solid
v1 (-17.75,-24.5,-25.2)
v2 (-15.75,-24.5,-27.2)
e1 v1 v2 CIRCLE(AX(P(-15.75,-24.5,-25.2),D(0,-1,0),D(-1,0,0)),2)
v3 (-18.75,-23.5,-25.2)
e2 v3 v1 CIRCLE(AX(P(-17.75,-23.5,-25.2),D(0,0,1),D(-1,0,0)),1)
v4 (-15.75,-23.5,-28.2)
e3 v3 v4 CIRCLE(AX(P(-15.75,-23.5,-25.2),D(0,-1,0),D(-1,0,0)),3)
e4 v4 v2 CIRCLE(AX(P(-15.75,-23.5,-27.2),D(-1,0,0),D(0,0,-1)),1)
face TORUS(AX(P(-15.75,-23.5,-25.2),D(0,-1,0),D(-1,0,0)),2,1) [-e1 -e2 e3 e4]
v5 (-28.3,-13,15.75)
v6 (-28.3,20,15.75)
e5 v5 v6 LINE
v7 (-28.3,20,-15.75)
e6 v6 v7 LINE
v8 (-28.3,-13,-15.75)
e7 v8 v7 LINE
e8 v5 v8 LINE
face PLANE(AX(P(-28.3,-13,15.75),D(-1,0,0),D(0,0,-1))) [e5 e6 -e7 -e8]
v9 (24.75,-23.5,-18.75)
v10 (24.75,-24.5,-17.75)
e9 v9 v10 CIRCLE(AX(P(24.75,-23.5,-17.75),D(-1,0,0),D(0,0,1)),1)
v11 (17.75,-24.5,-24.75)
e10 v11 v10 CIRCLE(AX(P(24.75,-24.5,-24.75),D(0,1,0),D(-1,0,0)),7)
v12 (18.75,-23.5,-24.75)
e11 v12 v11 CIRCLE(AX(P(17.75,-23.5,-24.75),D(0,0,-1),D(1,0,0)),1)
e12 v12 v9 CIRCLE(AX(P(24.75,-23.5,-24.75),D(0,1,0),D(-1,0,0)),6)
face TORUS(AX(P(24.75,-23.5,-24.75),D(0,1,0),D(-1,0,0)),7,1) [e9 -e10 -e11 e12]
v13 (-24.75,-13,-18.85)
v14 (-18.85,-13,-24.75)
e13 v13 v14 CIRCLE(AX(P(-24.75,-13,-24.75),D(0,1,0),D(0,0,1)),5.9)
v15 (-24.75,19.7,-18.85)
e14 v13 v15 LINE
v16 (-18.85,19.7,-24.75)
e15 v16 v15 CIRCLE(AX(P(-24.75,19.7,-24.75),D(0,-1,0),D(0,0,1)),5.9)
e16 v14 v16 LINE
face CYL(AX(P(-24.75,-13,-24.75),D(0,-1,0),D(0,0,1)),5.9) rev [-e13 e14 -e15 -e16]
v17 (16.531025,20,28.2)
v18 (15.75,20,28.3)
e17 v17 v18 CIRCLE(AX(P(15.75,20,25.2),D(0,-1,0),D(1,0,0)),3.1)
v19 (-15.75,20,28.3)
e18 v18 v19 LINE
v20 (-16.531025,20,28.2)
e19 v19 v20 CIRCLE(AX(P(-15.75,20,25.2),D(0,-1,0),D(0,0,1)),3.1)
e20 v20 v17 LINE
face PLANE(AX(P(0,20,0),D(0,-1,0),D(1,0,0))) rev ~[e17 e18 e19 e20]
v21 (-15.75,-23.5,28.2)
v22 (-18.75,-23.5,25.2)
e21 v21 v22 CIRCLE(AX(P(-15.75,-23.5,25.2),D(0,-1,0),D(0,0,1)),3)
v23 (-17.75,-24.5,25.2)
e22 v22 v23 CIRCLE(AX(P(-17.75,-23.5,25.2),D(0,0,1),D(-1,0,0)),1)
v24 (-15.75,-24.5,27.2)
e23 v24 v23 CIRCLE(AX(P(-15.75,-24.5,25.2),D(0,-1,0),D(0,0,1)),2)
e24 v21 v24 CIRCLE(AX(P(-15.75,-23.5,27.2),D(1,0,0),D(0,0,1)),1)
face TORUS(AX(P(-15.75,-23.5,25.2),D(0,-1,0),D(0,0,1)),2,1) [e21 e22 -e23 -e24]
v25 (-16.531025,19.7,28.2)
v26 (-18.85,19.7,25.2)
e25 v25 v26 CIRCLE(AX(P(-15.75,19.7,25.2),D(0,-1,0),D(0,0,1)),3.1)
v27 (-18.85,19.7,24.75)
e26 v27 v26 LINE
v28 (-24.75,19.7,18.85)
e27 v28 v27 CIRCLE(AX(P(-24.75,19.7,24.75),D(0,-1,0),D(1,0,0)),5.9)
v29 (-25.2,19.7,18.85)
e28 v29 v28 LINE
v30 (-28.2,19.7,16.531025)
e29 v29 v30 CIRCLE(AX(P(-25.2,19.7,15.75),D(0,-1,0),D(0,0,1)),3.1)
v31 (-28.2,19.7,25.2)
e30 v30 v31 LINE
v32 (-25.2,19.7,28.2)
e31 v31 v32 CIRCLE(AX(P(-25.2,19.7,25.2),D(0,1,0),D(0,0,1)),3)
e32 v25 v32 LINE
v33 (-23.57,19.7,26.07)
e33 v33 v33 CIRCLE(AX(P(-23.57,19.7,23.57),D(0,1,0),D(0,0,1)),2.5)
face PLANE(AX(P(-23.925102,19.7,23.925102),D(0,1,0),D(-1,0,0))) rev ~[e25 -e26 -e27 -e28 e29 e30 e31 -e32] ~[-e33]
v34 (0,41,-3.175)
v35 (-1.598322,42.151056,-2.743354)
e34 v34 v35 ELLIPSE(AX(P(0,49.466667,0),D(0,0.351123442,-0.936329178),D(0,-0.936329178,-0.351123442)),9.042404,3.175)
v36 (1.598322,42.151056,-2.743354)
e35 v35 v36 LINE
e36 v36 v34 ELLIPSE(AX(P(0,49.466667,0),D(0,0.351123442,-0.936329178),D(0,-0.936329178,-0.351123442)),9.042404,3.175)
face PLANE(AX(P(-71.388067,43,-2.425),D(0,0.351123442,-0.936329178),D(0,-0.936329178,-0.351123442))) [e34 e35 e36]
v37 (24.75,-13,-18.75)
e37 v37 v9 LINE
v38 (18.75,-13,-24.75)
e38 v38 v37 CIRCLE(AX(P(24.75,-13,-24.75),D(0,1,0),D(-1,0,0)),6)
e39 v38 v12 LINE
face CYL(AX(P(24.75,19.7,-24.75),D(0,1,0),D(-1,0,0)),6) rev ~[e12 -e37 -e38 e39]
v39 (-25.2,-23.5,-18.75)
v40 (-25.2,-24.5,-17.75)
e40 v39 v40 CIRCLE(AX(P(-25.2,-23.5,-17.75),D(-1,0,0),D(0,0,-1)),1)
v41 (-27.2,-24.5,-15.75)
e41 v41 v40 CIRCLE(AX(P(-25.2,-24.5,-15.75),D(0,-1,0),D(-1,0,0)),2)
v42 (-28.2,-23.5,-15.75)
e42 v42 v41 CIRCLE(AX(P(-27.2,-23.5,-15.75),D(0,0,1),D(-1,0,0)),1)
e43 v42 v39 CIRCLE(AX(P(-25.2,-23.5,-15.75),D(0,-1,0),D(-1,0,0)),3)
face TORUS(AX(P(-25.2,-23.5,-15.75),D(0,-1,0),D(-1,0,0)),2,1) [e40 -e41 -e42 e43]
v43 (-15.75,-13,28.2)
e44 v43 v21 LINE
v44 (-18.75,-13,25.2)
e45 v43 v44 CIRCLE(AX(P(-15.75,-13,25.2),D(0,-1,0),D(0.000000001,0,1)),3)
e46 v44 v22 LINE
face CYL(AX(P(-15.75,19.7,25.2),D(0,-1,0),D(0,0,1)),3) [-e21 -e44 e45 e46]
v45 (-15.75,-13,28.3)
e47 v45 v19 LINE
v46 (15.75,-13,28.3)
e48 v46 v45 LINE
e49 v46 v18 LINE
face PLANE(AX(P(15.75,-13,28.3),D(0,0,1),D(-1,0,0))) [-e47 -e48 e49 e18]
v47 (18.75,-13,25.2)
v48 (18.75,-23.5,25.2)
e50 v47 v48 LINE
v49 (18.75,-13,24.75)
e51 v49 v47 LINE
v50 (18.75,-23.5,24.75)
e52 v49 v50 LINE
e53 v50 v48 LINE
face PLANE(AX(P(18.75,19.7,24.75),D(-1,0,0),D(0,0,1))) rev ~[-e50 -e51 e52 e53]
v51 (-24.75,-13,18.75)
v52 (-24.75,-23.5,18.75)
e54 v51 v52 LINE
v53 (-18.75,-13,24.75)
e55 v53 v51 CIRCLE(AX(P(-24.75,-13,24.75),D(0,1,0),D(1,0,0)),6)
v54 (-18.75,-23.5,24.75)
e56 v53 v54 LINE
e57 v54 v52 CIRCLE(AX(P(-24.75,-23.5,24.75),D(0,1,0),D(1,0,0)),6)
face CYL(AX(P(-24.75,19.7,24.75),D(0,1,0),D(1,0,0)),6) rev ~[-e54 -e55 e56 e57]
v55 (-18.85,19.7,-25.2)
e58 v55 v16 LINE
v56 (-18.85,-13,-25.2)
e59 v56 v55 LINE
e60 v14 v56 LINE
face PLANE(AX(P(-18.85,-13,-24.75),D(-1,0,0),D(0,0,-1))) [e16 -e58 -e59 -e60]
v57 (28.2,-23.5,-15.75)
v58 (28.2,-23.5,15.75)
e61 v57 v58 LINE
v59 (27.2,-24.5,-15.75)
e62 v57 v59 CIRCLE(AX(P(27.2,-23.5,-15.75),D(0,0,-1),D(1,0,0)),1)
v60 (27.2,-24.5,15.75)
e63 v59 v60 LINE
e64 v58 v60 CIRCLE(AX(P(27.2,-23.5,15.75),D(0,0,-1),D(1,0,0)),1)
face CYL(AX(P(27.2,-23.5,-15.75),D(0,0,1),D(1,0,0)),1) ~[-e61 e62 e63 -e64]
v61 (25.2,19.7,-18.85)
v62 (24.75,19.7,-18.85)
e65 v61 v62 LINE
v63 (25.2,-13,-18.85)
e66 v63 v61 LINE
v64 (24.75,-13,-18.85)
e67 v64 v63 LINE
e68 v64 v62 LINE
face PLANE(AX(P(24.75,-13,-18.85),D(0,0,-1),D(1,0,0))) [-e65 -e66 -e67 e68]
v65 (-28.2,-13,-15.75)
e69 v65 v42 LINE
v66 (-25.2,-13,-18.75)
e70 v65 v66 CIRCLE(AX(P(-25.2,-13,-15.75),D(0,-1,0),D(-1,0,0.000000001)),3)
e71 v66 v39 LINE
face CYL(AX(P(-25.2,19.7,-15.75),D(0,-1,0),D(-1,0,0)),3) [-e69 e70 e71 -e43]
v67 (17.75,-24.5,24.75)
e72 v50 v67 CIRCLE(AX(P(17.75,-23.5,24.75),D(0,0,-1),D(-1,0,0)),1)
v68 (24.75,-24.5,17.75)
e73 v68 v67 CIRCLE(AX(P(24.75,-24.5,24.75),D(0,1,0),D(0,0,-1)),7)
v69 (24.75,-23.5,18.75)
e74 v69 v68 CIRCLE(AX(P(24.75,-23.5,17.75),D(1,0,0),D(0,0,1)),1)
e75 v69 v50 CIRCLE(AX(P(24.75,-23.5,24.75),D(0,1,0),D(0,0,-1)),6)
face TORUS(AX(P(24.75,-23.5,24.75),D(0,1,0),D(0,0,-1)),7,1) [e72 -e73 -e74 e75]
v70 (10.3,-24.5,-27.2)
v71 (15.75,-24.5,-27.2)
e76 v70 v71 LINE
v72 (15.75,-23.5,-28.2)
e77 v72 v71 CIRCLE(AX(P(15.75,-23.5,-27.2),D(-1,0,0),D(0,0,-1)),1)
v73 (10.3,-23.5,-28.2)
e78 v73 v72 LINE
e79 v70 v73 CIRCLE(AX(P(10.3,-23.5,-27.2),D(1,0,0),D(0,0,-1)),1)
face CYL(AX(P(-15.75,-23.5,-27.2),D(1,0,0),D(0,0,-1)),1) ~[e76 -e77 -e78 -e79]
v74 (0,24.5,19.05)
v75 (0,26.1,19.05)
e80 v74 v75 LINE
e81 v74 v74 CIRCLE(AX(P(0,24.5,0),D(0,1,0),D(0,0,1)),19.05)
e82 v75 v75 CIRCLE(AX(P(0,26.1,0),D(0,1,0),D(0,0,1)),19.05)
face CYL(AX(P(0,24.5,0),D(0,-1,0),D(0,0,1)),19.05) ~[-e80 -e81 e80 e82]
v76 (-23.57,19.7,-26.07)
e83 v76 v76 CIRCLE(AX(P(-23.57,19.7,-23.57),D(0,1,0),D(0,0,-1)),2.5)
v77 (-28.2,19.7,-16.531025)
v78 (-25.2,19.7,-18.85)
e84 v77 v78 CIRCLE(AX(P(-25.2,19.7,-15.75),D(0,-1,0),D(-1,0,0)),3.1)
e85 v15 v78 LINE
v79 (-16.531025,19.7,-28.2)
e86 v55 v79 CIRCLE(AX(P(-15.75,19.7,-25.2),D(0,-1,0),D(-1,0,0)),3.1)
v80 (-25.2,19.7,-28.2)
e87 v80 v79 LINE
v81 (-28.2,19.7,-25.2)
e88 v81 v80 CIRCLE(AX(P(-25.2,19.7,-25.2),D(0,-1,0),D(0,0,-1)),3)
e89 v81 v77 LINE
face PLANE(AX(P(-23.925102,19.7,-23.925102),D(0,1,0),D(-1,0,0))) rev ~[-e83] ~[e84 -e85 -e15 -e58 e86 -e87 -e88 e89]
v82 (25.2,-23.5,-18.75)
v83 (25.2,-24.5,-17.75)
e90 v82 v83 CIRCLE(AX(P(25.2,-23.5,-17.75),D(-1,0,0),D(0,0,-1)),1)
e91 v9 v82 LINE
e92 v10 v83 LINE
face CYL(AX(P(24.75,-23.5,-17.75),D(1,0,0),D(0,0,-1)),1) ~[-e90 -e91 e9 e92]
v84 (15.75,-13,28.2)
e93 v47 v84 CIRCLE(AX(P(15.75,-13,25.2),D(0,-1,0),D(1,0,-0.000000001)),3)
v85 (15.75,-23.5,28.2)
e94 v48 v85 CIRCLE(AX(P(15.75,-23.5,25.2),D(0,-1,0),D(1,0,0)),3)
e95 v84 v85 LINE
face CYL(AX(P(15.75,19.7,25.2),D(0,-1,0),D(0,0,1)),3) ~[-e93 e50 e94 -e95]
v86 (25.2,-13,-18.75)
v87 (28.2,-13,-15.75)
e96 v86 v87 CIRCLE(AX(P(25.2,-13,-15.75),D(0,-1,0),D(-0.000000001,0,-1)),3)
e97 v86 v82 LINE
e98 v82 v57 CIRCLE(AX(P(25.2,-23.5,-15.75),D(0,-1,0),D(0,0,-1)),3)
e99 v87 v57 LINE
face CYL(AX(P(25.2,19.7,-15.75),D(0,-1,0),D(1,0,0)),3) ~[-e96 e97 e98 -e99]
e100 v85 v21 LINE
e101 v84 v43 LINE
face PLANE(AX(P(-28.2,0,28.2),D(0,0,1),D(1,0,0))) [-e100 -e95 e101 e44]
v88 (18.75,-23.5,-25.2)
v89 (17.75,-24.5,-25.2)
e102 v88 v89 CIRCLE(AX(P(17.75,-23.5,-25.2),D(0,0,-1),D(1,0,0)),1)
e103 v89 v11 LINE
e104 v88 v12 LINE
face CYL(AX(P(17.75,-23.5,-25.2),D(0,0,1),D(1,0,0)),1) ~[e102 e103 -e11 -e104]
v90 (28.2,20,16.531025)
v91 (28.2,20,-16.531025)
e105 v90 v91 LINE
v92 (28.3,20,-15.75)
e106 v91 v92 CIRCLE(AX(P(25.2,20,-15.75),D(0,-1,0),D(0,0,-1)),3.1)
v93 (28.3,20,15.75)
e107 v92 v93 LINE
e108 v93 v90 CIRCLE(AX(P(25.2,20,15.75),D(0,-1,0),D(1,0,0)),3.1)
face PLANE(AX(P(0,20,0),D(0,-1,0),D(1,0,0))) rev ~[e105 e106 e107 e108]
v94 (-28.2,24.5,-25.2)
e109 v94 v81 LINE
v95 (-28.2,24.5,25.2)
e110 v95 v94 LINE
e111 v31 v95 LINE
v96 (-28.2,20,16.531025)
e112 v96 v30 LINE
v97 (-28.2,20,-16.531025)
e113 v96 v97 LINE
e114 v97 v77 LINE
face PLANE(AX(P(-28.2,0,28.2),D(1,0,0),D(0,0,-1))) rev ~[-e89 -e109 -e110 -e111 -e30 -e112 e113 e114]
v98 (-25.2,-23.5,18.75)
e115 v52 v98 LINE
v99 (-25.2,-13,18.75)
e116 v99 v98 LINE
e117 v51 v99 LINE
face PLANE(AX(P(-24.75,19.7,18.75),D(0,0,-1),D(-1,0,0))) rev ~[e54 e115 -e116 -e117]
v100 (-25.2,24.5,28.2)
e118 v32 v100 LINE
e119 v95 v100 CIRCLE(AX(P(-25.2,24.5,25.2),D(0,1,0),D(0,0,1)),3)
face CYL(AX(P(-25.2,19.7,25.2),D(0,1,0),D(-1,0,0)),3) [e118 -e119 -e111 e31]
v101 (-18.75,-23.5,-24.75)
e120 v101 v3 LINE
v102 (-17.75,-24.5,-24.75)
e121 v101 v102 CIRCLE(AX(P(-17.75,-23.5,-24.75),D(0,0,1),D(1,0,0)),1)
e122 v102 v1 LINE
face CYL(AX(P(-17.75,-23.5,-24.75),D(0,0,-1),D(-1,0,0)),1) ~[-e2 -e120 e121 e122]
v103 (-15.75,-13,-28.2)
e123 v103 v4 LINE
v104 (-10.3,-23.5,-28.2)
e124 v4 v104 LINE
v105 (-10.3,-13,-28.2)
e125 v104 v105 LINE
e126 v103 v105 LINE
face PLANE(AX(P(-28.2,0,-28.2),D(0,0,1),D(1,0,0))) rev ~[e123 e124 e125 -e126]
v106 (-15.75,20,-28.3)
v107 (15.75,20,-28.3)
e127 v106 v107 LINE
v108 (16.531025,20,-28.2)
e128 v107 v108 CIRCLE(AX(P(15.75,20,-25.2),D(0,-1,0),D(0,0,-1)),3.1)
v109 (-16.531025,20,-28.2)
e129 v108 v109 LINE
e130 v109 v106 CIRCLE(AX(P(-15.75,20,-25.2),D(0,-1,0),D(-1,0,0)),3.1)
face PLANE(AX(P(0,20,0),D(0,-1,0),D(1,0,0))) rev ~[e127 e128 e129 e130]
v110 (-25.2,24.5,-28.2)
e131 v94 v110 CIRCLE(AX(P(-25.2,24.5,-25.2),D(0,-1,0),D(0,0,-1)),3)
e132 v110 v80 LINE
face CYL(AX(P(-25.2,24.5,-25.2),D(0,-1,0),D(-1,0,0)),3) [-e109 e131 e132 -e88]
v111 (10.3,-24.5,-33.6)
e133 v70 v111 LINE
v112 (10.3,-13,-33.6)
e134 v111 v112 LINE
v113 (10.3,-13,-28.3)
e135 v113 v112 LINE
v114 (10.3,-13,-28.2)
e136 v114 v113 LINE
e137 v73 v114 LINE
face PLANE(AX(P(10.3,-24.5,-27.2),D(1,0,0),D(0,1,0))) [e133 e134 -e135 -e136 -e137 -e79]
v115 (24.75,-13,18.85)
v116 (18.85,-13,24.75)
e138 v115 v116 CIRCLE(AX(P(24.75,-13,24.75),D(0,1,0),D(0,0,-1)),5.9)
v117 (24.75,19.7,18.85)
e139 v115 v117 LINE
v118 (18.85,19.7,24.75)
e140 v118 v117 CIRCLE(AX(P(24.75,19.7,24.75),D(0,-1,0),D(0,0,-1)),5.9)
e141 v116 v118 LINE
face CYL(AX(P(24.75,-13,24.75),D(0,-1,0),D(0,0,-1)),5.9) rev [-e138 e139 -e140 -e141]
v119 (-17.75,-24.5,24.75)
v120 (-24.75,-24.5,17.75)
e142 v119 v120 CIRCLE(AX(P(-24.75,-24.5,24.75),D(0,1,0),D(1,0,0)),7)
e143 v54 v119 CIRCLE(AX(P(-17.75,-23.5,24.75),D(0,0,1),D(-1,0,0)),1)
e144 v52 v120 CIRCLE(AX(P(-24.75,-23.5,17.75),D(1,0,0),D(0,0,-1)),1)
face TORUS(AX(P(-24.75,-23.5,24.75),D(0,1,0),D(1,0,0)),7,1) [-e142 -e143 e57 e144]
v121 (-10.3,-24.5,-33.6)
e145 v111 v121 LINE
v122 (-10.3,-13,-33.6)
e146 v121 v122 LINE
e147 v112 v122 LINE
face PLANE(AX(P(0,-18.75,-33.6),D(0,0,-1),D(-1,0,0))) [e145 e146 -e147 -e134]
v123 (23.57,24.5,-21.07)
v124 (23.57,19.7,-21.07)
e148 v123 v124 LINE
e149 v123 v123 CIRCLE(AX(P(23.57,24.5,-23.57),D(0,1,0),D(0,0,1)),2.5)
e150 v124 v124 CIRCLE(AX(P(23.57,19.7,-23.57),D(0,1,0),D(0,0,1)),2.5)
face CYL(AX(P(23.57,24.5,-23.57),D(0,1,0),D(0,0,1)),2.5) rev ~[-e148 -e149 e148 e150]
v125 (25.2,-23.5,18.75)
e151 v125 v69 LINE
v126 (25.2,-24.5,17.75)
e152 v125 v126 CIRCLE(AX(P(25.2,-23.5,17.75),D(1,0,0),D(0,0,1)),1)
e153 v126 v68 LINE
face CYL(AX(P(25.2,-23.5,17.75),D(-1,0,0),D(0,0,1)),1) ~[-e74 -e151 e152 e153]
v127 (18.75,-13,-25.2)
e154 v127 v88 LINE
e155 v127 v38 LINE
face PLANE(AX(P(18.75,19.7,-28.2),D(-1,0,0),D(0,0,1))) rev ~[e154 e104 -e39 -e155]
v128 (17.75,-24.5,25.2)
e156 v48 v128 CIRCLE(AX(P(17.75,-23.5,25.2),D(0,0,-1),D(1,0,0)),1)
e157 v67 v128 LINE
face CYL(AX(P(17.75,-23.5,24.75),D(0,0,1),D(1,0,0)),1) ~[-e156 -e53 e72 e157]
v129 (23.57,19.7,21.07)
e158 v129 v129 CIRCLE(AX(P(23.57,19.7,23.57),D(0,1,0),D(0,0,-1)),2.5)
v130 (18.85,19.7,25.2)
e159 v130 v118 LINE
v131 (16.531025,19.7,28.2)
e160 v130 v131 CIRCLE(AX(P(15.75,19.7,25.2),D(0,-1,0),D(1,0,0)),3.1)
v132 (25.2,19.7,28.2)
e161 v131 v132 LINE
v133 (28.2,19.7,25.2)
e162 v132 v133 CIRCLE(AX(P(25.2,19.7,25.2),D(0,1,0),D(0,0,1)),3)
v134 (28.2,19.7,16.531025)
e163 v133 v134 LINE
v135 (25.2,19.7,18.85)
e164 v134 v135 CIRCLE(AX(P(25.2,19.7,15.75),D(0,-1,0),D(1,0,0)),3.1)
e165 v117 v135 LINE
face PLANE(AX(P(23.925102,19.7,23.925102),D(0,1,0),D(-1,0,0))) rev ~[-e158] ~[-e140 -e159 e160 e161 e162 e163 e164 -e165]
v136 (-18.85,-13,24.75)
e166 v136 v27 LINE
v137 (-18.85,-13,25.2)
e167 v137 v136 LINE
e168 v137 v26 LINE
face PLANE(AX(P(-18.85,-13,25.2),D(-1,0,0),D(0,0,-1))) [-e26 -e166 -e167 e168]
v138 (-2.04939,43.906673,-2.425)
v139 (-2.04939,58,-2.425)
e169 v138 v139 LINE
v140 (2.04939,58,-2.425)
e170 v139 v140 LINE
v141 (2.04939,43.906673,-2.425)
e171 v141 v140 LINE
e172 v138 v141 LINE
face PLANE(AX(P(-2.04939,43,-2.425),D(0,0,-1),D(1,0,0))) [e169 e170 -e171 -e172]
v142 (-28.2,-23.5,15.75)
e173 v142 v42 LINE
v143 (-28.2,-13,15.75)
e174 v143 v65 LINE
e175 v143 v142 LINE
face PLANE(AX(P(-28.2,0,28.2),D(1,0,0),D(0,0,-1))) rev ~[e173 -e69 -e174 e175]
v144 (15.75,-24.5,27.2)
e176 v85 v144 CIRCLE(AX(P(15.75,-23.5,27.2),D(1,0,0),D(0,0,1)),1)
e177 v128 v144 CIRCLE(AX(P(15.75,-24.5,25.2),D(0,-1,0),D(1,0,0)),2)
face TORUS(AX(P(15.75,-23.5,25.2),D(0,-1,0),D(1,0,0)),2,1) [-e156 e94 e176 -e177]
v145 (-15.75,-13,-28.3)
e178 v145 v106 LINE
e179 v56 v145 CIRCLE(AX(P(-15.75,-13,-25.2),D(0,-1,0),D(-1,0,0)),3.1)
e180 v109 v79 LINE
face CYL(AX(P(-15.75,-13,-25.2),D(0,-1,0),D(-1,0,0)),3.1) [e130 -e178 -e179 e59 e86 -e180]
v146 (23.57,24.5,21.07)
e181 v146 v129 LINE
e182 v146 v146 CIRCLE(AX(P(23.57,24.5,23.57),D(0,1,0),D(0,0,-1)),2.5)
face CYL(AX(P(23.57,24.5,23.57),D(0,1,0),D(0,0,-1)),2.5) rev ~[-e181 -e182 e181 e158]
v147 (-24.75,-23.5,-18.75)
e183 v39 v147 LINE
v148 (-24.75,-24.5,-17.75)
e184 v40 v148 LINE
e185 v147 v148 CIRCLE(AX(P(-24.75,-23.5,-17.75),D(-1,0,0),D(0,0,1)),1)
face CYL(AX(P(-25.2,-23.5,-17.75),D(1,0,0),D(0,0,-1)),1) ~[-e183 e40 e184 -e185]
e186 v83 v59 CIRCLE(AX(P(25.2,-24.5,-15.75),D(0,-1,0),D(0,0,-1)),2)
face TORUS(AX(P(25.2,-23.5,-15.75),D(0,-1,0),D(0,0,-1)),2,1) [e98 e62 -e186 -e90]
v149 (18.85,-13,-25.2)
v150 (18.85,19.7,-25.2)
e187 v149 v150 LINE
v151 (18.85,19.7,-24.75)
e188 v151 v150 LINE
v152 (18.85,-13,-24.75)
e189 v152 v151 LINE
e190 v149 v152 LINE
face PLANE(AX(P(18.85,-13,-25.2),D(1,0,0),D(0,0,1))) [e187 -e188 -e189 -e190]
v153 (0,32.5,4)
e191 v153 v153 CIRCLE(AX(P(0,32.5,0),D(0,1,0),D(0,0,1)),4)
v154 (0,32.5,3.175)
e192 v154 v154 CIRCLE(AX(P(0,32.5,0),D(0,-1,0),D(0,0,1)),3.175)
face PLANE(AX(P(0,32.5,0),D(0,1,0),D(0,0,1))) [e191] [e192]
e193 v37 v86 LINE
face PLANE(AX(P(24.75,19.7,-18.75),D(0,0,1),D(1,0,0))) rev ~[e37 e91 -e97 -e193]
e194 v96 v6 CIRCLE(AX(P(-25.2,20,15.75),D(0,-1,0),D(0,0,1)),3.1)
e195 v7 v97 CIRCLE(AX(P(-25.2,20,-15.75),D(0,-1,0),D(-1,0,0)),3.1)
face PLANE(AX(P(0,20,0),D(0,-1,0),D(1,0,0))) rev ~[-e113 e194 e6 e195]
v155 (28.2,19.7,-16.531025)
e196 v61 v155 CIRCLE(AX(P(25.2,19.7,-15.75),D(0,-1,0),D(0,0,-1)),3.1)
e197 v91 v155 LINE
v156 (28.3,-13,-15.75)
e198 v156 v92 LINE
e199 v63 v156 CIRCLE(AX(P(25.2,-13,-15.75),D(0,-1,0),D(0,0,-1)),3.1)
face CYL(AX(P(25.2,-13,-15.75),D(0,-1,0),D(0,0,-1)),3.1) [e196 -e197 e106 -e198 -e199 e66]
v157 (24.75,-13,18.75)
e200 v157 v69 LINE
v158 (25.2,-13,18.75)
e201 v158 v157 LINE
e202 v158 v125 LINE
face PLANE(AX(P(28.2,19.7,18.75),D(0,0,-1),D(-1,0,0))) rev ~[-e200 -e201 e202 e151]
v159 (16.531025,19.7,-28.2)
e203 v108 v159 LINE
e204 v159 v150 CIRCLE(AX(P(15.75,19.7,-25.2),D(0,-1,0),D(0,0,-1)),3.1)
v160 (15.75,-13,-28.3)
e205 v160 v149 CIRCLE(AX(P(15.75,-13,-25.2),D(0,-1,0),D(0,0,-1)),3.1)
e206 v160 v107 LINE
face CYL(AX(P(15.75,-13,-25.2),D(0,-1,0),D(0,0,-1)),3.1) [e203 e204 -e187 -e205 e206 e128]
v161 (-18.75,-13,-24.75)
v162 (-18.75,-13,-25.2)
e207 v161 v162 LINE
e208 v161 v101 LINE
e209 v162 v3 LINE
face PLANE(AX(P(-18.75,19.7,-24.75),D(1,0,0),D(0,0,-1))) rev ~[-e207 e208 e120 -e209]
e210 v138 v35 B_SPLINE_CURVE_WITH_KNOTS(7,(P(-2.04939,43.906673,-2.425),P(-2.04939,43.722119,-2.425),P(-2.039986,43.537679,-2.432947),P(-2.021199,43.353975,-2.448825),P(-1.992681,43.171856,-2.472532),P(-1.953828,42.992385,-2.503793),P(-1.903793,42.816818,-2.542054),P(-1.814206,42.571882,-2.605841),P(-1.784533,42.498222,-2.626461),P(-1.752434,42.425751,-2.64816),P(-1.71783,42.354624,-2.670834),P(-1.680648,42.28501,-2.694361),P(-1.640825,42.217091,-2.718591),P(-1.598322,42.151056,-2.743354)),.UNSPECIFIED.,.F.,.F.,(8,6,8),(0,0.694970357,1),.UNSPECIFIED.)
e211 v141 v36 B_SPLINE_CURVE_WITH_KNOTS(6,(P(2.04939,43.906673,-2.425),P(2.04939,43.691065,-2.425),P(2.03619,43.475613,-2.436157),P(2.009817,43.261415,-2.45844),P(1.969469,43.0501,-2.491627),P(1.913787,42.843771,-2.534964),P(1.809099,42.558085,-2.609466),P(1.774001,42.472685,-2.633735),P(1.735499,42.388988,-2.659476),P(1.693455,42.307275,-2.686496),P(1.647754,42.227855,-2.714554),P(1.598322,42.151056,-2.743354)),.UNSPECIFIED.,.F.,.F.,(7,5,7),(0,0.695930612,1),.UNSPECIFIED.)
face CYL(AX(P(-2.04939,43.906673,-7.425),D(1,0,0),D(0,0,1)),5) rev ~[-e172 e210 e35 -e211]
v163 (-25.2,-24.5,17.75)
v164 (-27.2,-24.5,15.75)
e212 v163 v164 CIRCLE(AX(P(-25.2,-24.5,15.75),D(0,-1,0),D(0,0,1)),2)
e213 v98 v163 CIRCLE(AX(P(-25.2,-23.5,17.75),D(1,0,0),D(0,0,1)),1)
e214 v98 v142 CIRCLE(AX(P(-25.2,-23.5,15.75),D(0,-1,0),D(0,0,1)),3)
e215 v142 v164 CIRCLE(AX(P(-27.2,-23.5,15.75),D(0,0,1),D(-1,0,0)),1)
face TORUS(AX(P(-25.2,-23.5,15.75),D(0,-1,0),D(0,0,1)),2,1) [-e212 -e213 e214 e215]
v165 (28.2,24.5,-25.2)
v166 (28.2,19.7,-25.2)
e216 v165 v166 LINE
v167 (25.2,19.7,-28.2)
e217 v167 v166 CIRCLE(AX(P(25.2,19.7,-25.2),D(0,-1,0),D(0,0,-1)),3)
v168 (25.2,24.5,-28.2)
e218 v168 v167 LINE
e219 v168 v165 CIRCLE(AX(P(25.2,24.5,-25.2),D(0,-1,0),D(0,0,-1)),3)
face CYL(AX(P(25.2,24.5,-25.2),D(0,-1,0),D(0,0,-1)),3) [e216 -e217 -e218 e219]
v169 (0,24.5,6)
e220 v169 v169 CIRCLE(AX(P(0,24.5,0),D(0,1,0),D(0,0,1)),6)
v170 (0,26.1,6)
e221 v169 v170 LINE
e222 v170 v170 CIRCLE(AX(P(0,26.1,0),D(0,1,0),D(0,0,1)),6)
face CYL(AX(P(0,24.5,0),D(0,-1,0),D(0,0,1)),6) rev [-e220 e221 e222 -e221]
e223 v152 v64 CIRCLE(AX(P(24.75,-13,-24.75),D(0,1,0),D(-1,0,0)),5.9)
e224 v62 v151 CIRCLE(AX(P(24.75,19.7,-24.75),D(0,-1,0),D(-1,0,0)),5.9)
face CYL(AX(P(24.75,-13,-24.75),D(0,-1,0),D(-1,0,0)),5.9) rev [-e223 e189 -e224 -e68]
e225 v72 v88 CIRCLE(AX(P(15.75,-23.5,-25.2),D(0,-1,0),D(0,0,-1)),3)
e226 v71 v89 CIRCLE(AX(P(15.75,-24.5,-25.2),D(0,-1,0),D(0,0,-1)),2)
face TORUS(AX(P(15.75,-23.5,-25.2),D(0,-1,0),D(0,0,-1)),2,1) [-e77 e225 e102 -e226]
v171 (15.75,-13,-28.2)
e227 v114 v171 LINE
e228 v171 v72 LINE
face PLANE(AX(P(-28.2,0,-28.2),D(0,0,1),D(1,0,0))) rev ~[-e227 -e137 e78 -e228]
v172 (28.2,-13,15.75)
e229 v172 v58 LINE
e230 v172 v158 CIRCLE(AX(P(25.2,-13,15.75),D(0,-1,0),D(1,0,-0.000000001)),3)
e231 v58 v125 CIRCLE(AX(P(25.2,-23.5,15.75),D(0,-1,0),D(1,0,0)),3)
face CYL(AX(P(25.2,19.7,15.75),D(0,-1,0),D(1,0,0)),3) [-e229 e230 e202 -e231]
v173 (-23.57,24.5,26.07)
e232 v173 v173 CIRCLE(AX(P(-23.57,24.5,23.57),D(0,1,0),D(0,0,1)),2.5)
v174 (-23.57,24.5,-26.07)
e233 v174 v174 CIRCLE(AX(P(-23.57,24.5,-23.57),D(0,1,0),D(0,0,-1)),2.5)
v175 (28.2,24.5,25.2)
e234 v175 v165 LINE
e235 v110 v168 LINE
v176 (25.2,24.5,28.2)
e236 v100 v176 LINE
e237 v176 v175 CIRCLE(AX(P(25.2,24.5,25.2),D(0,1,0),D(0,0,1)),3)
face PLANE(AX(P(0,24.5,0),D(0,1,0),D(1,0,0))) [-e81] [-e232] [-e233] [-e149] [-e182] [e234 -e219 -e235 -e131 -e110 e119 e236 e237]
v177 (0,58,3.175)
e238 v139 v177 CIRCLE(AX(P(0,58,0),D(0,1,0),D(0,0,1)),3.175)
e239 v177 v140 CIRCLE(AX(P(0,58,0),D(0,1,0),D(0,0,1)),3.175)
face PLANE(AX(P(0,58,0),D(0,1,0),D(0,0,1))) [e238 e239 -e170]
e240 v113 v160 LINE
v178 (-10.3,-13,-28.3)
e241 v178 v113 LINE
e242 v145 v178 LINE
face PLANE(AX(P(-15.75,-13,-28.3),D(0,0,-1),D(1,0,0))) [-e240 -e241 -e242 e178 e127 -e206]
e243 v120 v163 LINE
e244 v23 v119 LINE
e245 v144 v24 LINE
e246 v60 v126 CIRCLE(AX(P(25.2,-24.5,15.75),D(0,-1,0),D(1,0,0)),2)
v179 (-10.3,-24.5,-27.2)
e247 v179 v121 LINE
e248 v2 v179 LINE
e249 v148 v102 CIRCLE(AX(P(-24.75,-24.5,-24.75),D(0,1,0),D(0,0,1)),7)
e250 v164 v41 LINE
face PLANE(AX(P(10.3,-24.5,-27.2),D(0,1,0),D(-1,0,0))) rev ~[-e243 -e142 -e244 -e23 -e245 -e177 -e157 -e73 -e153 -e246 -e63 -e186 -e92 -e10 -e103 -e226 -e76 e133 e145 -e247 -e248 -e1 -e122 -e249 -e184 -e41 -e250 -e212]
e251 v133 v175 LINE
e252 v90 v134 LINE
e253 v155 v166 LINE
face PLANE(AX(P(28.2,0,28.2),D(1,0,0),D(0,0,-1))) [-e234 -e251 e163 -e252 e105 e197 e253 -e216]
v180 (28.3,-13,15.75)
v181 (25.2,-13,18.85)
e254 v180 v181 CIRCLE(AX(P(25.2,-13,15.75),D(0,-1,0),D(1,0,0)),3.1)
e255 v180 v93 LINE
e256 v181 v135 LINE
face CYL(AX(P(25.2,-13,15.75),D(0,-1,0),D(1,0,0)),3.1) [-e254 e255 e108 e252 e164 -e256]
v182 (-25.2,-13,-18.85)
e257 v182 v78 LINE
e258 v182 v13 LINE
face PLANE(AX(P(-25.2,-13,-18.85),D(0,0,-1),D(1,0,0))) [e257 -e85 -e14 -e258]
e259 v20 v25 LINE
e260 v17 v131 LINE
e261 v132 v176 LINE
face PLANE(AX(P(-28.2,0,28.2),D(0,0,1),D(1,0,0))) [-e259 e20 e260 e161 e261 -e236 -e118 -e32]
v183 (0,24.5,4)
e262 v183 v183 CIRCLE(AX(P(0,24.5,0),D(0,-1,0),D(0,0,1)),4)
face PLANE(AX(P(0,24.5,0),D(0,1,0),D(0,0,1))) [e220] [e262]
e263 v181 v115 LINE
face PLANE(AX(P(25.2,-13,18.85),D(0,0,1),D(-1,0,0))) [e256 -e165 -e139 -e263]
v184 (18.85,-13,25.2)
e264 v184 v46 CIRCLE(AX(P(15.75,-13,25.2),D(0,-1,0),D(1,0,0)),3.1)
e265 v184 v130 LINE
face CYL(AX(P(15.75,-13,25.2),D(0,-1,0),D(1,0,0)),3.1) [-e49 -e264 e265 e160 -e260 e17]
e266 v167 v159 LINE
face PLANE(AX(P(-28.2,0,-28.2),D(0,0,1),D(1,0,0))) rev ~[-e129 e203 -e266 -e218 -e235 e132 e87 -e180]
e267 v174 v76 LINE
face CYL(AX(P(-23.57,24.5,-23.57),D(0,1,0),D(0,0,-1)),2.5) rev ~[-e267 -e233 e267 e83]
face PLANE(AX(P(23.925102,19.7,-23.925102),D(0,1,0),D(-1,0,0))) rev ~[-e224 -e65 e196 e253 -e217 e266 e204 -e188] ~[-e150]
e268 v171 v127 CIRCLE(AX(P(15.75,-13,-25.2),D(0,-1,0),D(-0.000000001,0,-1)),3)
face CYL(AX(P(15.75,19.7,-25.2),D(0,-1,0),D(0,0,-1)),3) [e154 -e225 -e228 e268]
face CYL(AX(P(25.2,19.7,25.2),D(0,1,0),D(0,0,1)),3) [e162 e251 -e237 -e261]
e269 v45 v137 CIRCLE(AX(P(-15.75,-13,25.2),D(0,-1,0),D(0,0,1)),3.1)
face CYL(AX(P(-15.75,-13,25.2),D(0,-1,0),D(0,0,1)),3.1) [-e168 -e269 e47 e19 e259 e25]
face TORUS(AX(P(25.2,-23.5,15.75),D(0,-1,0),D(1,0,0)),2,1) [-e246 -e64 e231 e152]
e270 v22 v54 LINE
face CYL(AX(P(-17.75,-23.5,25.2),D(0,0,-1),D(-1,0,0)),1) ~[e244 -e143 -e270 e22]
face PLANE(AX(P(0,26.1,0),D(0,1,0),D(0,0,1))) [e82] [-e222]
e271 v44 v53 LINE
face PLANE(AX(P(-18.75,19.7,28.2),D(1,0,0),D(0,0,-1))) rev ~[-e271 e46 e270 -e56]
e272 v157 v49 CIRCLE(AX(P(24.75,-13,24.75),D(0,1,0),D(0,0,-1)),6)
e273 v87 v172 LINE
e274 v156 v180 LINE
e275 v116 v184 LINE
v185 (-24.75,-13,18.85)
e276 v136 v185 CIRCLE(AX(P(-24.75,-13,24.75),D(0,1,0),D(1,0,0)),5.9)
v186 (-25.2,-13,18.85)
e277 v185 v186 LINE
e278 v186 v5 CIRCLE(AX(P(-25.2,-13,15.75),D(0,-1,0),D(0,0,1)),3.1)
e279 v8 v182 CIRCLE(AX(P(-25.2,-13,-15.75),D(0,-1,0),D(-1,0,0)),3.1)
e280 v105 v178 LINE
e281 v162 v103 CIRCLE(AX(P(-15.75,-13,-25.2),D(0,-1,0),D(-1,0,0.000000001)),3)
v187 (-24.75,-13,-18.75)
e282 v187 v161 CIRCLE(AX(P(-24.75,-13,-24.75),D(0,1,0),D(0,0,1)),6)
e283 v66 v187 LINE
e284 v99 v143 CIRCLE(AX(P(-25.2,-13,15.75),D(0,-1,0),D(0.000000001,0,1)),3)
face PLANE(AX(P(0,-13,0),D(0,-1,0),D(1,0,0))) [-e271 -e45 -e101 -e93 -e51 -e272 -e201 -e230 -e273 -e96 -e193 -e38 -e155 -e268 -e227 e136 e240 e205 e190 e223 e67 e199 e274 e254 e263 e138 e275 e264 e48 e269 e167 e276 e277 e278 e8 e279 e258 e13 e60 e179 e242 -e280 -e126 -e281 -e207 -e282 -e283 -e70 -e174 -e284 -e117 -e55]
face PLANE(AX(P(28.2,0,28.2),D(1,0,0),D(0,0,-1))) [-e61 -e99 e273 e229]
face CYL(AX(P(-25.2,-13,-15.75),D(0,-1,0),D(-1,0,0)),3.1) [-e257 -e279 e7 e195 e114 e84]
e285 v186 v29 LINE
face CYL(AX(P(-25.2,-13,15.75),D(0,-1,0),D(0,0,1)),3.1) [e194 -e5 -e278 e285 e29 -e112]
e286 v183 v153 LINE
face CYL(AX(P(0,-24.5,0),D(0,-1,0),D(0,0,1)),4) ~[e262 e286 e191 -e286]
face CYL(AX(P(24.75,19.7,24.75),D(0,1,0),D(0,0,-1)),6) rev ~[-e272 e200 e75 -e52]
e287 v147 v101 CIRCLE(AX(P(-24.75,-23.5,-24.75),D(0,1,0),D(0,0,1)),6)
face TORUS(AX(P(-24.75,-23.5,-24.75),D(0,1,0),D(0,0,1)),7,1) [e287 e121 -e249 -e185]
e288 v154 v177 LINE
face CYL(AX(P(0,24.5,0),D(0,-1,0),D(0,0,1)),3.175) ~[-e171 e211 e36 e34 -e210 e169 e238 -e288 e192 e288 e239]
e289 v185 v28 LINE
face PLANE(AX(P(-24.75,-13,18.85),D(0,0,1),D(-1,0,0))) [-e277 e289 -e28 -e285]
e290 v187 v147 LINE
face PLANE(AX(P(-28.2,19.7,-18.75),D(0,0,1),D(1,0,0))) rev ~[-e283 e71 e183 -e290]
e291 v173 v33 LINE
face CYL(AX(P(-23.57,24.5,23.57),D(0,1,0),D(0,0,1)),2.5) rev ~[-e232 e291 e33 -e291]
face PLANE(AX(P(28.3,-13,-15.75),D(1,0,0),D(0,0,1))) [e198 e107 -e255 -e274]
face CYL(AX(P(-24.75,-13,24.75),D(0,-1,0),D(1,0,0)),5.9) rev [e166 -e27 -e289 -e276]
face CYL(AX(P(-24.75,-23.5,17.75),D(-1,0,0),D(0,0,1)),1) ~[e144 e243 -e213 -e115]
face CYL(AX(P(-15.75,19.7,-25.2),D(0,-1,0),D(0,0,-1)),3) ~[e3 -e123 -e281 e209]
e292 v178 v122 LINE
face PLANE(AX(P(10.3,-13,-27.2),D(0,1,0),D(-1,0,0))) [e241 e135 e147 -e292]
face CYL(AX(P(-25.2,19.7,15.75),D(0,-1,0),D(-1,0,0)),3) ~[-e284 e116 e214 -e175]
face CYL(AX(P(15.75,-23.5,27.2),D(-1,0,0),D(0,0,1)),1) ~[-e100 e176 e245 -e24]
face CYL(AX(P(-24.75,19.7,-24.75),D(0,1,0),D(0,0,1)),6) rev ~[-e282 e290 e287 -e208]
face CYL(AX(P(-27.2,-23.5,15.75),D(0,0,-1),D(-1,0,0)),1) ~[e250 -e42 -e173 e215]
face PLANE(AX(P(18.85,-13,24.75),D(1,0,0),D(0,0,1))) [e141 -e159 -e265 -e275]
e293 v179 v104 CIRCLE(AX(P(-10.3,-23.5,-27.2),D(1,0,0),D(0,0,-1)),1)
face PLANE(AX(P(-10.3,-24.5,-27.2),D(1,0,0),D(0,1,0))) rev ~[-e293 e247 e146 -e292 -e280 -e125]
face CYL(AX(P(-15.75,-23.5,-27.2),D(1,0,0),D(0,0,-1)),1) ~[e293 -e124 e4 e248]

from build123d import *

# Parameters (mm, degrees)
SKETCH1_W                = 56.4
SKETCH1_H                = 56.4
BOSS_EXTRUDE1_DEPTH      = 24.5
CUT_EXTRUDE1_START       = 4.8
CUT_EXTRUDE1_DEPTH       = 59.378160784
FILLET1_R                = 3
FILLET2_R                = 1
SKETCH3_R                = 2.5
CUT_EXTRUDE2_DEPTH       = 55.8
SKETCH4_R                = 19.05
BOSS_EXTRUDE2_DEPTH      = 1.6
SKETCH5_R                = 3.175
BOSS_EXTRUDE3_DEPTH      = 33.5
CUT_EXTRUDE3_START       = -15
CUT_EXTRUDE3_DEPTH       = 15
CUT_EXTRUDE4_DEPTH       = 71.388067171
CUT_EXTRUDE4_DEPTH_BACK  = 71.388067171
FILLET3_R                = 5
CUT_EXTRUDE5_START       = -1.6
SKETCH8_R                = 6
SKETCH8_R_2              = 3.175
CUT_EXTRUDE5_DEPTH       = 1.6
BOSS_EXTRUDE4_START      = -11.5
BOSS_EXTRUDE4_DEPTH      = 33
BOSS_EXTRUDE5_DEPTH      = 6.4
BOSS_EXTRUDE5_DEPTH_BACK = 50.6
SKETCH11_R               = 4
BOSS_EXTRUDE6_START      = -1
SKETCH12_W               = 20.6
SKETCH12_H               = 11.5
BOSS_EXTRUDE6_DEPTH      = 6.4


with BuildPart() as part:
    # Sketch1 → Boss-Extrude1 (new, symmetric)
    with BuildSketch(Plane(origin=(0, 0, 0), x_dir=(1, 0, 0), z_dir=(0, 1, 0))):
        Rectangle(SKETCH1_W, SKETCH1_H)
    extrude(amount=BOSS_EXTRUDE1_DEPTH, both=True)

    # Sketch2 → Cut-Extrude1 (cut, through all)
    with BuildSketch(Plane.XZ.offset(-24.5).offset(CUT_EXTRUDE1_START)):
        with BuildLine():
            Line((-18.75, 28.2), (-18.75, 24.75))
            ThreePointArc((-18.75, 24.75), (-20.507359313, 20.507359313), (-24.75, 18.75))
            Line((-24.75, 18.75), (-28.2, 18.75))
            Line((-28.2, 18.75), (-28.2, 28.2))
            Line((-28.2, 28.2), (-18.75, 28.2))
        make_face()
        with BuildLine():
            Line((28.2, 28.2), (28.2, 18.75))
            Line((28.2, 18.75), (24.75, 18.75))
            ThreePointArc((24.75, 18.75), (20.507359313, 20.507359313), (18.75, 24.75))
            Line((18.75, 24.75), (18.75, 28.2))
            Line((18.75, 28.2), (28.2, 28.2))
        make_face()
        with BuildLine():
            Line((18.75, -28.2), (18.75, -24.75))
            ThreePointArc((18.75, -24.75), (20.507359313, -20.507359313), (24.75, -18.75))
            Line((24.75, -18.75), (28.2, -18.75))
            Line((28.2, -18.75), (28.2, -28.2))
            Line((28.2, -28.2), (18.75, -28.2))
        make_face()
        with BuildLine():
            Line((-28.2, -28.2), (-28.2, -18.75))
            Line((-28.2, -18.75), (-24.75, -18.75))
            ThreePointArc((-24.75, -18.75), (-20.507359313, -20.507359313), (-18.75, -24.75))
            Line((-18.75, -24.75), (-18.75, -28.2))
            Line((-18.75, -28.2), (-28.2, -28.2))
        make_face()
    extrude(amount=CUT_EXTRUDE1_DEPTH, mode=Mode.SUBTRACT)

    # Fillet1
    fillet1_edges = [part.edges().sort_by_distance(p)[0] for p in [
        (-28.2, -2.4, -18.75),
        (-18.75, -2.4, -28.2),
        (18.75, -2.4, -28.2),
        (28.2, -2.4, -18.75),
        (28.2, -2.4, 18.75),
        (18.75, -2.4, 28.2),
        (-18.75, -2.4, 28.2),
        (-28.2, -2.4, 18.75),
        (28.2, 22.1, 28.2),
        (-28.2, 22.1, 28.2),
        (-28.2, 22.1, -28.2),
        (28.2, 22.1, -28.2),
    ]]
    fillet(fillet1_edges, radius=FILLET1_R)

    # Fillet2
    fillet2_edges = [part.edges().sort_by_distance(p)[0] for p in [
        (-20.507359313, -24.5, -20.507359313),
        (-24.975, -24.5, -18.75),
        (20.507359313, -24.5, -20.507359313),
        (18.75, -24.5, -24.975),
        (20.507359313, -24.5, 20.507359313),
        (24.975, -24.5, 18.75),
        (-20.507359313, -24.5, 20.507359313),
        (-18.75, -24.5, 24.975),
        (-28.2, -24.5, 0),
        (-18.75, -24.5, -24.975),
        (0, -24.5, -28.2),
        (24.975, -24.5, -18.75),
        (28.2, -24.5, 0),
        (18.75, -24.5, 24.975),
        (0, -24.5, 28.2),
        (-24.975, -24.5, 18.75),
        (-17.871320344, -24.5, 27.321320344),
        (-17.871320344, -24.5, -27.321320344),
        (17.871320344, -24.5, -27.321320344),
        (27.321320344, -24.5, -17.871320344),
        (27.321320344, -24.5, 17.871320344),
        (17.871320344, -24.5, 27.321320344),
        (-27.321320344, -24.5, 17.871320344),
        (-27.321320344, -24.5, -17.871320344),
    ]]
    fillet(fillet2_edges, radius=FILLET2_R)

    # Sketch3 → Cut-Extrude2 (cut)
    with BuildSketch(Plane(origin=(0, 24.5, 0), x_dir=(1, 0, 0), z_dir=(0, 1, 0))):
        with Locations(Location((23.57, 23.57, 0), (0, 0, 270))):
            Circle(SKETCH3_R)
        with Locations(Location((-23.57, 23.57, 0), (0, 0, 90))):
            Circle(SKETCH3_R)
        with Locations(Location((23.57, -23.57, 0), (0, 0, 90))):
            Circle(SKETCH3_R)
        with Locations(Location((-23.57, -23.57, 0), (0, 0, 270))):
            Circle(SKETCH3_R)
    extrude(amount=-CUT_EXTRUDE2_DEPTH, mode=Mode.SUBTRACT)

    # Sketch4 → Boss-Extrude2 (add)
    with BuildSketch(Plane(origin=(0, 24.5, 0), x_dir=(1, 0, 0), z_dir=(0, 1, 0))):
        with Locations(Location((0, 0, 0), (0, 0, 270))):
            Circle(SKETCH4_R)
    extrude(amount=BOSS_EXTRUDE2_DEPTH)

    # Sketch5 → Boss-Extrude3 (add)
    with BuildSketch(Plane(origin=(0, 24.5, 0), x_dir=(1, 0, 0), z_dir=(0, 1, 0))):
        with Locations(Location((0, 0, 0), (0, 0, 270))):
            Circle(SKETCH5_R)
    extrude(amount=BOSS_EXTRUDE3_DEPTH)

    # Sketch6 → Cut-Extrude3 (cut)
    with BuildSketch(Plane(origin=(0, 58, 0), x_dir=(1, 0, 0), z_dir=(0, 1, 0)).offset(CUT_EXTRUDE3_START)):
        with BuildLine():
            Line((-2.049390153, 2.425), (2.049390153, 2.425))
            ThreePointArc((2.049390153, 2.425), (0, 3.175), (-2.049390153, 2.425))
        make_face()
    extrude(amount=CUT_EXTRUDE3_DEPTH, mode=Mode.SUBTRACT)

    # Sketch7 → Cut-Extrude4 (cut, two sides: drawn at the far end of the back side and taken through both)
    with BuildSketch(Plane(origin=(0, 0, 0), x_dir=(0, 0, -1), z_dir=(1, 0, 0)).offset(-CUT_EXTRUDE4_DEPTH_BACK)):
        Polygon((2.425, 43), (3.175, 41), (3.175, 43), align=None)
    extrude(amount=CUT_EXTRUDE4_DEPTH + CUT_EXTRUDE4_DEPTH_BACK, mode=Mode.SUBTRACT)

    # Fillet3
    fillet3_edges = [part.edges().sort_by_distance(p)[0] for p in [
        (0, 43, -2.425),
    ]]
    fillet(fillet3_edges, radius=FILLET3_R)

    # Sketch8 → Cut-Extrude5 (cut)
    with BuildSketch(Plane(origin=(0, 26.1, 0), x_dir=(1, 0, 0), z_dir=(0, 1, 0)).offset(CUT_EXTRUDE5_START)):
        with Locations(Location((0, 0, 0), (0, 0, 270))):
            Circle(SKETCH8_R)
        with Locations(Location((0, 0, 0), (0, 0, 59.774237817))):
            Circle(SKETCH8_R_2, mode=Mode.SUBTRACT)
    extrude(amount=CUT_EXTRUDE5_DEPTH, mode=Mode.SUBTRACT)

    # Sketch11 → Boss-Extrude5 (add, two sides: drawn at the far end of the back side and taken through both)
    with BuildSketch(Plane(origin=(0, 26.1, 0), x_dir=(1, 0, 0), z_dir=(0, 1, 0)).offset(-BOSS_EXTRUDE5_DEPTH_BACK)):
        with Locations(Location((0, 0, 0), (0, 0, 270))):
            Circle(SKETCH11_R)
    extrude(amount=BOSS_EXTRUDE5_DEPTH + BOSS_EXTRUDE5_DEPTH_BACK)



with BuildPart() as body_2:
    # Sketch10 → Boss-Extrude4 (new body)
    with BuildSketch(Plane.XZ.offset(24.5).offset(BOSS_EXTRUDE4_START)):
        with BuildLine():
            Line((25.2, 18.85), (24.75, 18.85))
            ThreePointArc((24.75, 18.85), (20.578069991, 20.578069991), (18.85, 24.75))
            Line((18.85, 24.75), (18.85, 25.2))
            ThreePointArc((18.85, 25.2), (17.942031022, 27.392031022), (15.75, 28.3))
            Line((15.75, 28.3), (-15.75, 28.3))
            ThreePointArc((-15.75, 28.3), (-17.942031022, 27.392031022), (-18.85, 25.2))
            Line((-18.85, 25.2), (-18.85, 24.75))
            ThreePointArc((-18.85, 24.75), (-20.578069991, 20.578069991), (-24.75, 18.85))
            Line((-24.75, 18.85), (-25.2, 18.85))
            ThreePointArc((-25.2, 18.85), (-27.392031022, 17.942031022), (-28.3, 15.75))
            Line((-28.3, 15.75), (-28.3, -15.75))
            ThreePointArc((-28.3, -15.75), (-27.392031022, -17.942031022), (-25.2, -18.85))
            Line((-25.2, -18.85), (-24.75, -18.85))
            ThreePointArc((-24.75, -18.85), (-20.578069991, -20.578069991), (-18.85, -24.75))
            Line((-18.85, -24.75), (-18.85, -25.2))
            ThreePointArc((-18.85, -25.2), (-17.942031022, -27.392031022), (-15.75, -28.3))
            Line((-15.75, -28.3), (15.75, -28.3))
            ThreePointArc((15.75, -28.3), (17.942031022, -27.392031022), (18.85, -25.2))
            Line((18.85, -25.2), (18.85, -24.75))
            ThreePointArc((18.85, -24.75), (20.578069991, -20.578069991), (24.75, -18.85))
            Line((24.75, -18.85), (25.2, -18.85))
            ThreePointArc((25.2, -18.85), (27.392031022, -17.942031022), (28.3, -15.75))
            Line((28.3, -15.75), (28.3, 15.75))
            ThreePointArc((28.3, 15.75), (27.392031022, 17.942031022), (25.2, 18.85))
        make_face()
        with BuildLine():
            Line((28.2, -15.75), (28.2, 15.75))
            ThreePointArc((28.2, 15.75), (27.321320344, 17.871320344), (25.2, 18.75))
            Line((25.2, 18.75), (24.75, 18.75))
            ThreePointArc((24.75, 18.75), (20.507359313, 20.507359313), (18.75, 24.75))
            Line((18.75, 24.75), (18.75, 25.2))
            ThreePointArc((18.75, 25.2), (17.871320344, 27.321320344), (15.75, 28.2))
            Line((15.75, 28.2), (-15.75, 28.2))
            ThreePointArc((-15.75, 28.2), (-17.871320344, 27.321320344), (-18.75, 25.2))
            Line((-18.75, 25.2), (-18.75, 24.75))
            ThreePointArc((-18.75, 24.75), (-20.507359313, 20.507359313), (-24.75, 18.75))
            Line((-24.75, 18.75), (-25.2, 18.75))
            ThreePointArc((-25.2, 18.75), (-27.321320344, 17.871320344), (-28.2, 15.75))
            Line((-28.2, 15.75), (-28.2, -15.75))
            ThreePointArc((-28.2, -15.75), (-27.321320344, -17.871320344), (-25.2, -18.75))
            Line((-25.2, -18.75), (-24.75, -18.75))
            ThreePointArc((-24.75, -18.75), (-20.507359313, -20.507359313), (-18.75, -24.75))
            Line((-18.75, -24.75), (-18.75, -25.2))
            ThreePointArc((-18.75, -25.2), (-17.871320344, -27.321320344), (-15.75, -28.2))
            Line((-15.75, -28.2), (15.75, -28.2))
            ThreePointArc((15.75, -28.2), (17.871320344, -27.321320344), (18.75, -25.2))
            Line((18.75, -25.2), (18.75, -24.75))
            ThreePointArc((18.75, -24.75), (20.507359313, -20.507359313), (24.75, -18.75))
            Line((24.75, -18.75), (25.2, -18.75))
            ThreePointArc((25.2, -18.75), (27.321320344, -17.871320344), (28.2, -15.75))
        make_face(mode=Mode.SUBTRACT)
    extrude(amount=-BOSS_EXTRUDE4_DEPTH)


with BuildPart() as part_1:
    add(part.part)

    add(body_2.part)  # Boss-Extrude6 merges body 2
    # Sketch12 → Boss-Extrude6 (add)
    with BuildSketch(Plane(origin=(0, 0, -28.2), x_dir=(-1, 0, 0), z_dir=(0, 0, -1)).offset(BOSS_EXTRUDE6_START)):
        with Locations((0, -18.75)):
            Rectangle(SKETCH12_W, SKETCH12_H)
    extrude(amount=BOSS_EXTRUDE6_DEPTH)


solid = part_1.part
